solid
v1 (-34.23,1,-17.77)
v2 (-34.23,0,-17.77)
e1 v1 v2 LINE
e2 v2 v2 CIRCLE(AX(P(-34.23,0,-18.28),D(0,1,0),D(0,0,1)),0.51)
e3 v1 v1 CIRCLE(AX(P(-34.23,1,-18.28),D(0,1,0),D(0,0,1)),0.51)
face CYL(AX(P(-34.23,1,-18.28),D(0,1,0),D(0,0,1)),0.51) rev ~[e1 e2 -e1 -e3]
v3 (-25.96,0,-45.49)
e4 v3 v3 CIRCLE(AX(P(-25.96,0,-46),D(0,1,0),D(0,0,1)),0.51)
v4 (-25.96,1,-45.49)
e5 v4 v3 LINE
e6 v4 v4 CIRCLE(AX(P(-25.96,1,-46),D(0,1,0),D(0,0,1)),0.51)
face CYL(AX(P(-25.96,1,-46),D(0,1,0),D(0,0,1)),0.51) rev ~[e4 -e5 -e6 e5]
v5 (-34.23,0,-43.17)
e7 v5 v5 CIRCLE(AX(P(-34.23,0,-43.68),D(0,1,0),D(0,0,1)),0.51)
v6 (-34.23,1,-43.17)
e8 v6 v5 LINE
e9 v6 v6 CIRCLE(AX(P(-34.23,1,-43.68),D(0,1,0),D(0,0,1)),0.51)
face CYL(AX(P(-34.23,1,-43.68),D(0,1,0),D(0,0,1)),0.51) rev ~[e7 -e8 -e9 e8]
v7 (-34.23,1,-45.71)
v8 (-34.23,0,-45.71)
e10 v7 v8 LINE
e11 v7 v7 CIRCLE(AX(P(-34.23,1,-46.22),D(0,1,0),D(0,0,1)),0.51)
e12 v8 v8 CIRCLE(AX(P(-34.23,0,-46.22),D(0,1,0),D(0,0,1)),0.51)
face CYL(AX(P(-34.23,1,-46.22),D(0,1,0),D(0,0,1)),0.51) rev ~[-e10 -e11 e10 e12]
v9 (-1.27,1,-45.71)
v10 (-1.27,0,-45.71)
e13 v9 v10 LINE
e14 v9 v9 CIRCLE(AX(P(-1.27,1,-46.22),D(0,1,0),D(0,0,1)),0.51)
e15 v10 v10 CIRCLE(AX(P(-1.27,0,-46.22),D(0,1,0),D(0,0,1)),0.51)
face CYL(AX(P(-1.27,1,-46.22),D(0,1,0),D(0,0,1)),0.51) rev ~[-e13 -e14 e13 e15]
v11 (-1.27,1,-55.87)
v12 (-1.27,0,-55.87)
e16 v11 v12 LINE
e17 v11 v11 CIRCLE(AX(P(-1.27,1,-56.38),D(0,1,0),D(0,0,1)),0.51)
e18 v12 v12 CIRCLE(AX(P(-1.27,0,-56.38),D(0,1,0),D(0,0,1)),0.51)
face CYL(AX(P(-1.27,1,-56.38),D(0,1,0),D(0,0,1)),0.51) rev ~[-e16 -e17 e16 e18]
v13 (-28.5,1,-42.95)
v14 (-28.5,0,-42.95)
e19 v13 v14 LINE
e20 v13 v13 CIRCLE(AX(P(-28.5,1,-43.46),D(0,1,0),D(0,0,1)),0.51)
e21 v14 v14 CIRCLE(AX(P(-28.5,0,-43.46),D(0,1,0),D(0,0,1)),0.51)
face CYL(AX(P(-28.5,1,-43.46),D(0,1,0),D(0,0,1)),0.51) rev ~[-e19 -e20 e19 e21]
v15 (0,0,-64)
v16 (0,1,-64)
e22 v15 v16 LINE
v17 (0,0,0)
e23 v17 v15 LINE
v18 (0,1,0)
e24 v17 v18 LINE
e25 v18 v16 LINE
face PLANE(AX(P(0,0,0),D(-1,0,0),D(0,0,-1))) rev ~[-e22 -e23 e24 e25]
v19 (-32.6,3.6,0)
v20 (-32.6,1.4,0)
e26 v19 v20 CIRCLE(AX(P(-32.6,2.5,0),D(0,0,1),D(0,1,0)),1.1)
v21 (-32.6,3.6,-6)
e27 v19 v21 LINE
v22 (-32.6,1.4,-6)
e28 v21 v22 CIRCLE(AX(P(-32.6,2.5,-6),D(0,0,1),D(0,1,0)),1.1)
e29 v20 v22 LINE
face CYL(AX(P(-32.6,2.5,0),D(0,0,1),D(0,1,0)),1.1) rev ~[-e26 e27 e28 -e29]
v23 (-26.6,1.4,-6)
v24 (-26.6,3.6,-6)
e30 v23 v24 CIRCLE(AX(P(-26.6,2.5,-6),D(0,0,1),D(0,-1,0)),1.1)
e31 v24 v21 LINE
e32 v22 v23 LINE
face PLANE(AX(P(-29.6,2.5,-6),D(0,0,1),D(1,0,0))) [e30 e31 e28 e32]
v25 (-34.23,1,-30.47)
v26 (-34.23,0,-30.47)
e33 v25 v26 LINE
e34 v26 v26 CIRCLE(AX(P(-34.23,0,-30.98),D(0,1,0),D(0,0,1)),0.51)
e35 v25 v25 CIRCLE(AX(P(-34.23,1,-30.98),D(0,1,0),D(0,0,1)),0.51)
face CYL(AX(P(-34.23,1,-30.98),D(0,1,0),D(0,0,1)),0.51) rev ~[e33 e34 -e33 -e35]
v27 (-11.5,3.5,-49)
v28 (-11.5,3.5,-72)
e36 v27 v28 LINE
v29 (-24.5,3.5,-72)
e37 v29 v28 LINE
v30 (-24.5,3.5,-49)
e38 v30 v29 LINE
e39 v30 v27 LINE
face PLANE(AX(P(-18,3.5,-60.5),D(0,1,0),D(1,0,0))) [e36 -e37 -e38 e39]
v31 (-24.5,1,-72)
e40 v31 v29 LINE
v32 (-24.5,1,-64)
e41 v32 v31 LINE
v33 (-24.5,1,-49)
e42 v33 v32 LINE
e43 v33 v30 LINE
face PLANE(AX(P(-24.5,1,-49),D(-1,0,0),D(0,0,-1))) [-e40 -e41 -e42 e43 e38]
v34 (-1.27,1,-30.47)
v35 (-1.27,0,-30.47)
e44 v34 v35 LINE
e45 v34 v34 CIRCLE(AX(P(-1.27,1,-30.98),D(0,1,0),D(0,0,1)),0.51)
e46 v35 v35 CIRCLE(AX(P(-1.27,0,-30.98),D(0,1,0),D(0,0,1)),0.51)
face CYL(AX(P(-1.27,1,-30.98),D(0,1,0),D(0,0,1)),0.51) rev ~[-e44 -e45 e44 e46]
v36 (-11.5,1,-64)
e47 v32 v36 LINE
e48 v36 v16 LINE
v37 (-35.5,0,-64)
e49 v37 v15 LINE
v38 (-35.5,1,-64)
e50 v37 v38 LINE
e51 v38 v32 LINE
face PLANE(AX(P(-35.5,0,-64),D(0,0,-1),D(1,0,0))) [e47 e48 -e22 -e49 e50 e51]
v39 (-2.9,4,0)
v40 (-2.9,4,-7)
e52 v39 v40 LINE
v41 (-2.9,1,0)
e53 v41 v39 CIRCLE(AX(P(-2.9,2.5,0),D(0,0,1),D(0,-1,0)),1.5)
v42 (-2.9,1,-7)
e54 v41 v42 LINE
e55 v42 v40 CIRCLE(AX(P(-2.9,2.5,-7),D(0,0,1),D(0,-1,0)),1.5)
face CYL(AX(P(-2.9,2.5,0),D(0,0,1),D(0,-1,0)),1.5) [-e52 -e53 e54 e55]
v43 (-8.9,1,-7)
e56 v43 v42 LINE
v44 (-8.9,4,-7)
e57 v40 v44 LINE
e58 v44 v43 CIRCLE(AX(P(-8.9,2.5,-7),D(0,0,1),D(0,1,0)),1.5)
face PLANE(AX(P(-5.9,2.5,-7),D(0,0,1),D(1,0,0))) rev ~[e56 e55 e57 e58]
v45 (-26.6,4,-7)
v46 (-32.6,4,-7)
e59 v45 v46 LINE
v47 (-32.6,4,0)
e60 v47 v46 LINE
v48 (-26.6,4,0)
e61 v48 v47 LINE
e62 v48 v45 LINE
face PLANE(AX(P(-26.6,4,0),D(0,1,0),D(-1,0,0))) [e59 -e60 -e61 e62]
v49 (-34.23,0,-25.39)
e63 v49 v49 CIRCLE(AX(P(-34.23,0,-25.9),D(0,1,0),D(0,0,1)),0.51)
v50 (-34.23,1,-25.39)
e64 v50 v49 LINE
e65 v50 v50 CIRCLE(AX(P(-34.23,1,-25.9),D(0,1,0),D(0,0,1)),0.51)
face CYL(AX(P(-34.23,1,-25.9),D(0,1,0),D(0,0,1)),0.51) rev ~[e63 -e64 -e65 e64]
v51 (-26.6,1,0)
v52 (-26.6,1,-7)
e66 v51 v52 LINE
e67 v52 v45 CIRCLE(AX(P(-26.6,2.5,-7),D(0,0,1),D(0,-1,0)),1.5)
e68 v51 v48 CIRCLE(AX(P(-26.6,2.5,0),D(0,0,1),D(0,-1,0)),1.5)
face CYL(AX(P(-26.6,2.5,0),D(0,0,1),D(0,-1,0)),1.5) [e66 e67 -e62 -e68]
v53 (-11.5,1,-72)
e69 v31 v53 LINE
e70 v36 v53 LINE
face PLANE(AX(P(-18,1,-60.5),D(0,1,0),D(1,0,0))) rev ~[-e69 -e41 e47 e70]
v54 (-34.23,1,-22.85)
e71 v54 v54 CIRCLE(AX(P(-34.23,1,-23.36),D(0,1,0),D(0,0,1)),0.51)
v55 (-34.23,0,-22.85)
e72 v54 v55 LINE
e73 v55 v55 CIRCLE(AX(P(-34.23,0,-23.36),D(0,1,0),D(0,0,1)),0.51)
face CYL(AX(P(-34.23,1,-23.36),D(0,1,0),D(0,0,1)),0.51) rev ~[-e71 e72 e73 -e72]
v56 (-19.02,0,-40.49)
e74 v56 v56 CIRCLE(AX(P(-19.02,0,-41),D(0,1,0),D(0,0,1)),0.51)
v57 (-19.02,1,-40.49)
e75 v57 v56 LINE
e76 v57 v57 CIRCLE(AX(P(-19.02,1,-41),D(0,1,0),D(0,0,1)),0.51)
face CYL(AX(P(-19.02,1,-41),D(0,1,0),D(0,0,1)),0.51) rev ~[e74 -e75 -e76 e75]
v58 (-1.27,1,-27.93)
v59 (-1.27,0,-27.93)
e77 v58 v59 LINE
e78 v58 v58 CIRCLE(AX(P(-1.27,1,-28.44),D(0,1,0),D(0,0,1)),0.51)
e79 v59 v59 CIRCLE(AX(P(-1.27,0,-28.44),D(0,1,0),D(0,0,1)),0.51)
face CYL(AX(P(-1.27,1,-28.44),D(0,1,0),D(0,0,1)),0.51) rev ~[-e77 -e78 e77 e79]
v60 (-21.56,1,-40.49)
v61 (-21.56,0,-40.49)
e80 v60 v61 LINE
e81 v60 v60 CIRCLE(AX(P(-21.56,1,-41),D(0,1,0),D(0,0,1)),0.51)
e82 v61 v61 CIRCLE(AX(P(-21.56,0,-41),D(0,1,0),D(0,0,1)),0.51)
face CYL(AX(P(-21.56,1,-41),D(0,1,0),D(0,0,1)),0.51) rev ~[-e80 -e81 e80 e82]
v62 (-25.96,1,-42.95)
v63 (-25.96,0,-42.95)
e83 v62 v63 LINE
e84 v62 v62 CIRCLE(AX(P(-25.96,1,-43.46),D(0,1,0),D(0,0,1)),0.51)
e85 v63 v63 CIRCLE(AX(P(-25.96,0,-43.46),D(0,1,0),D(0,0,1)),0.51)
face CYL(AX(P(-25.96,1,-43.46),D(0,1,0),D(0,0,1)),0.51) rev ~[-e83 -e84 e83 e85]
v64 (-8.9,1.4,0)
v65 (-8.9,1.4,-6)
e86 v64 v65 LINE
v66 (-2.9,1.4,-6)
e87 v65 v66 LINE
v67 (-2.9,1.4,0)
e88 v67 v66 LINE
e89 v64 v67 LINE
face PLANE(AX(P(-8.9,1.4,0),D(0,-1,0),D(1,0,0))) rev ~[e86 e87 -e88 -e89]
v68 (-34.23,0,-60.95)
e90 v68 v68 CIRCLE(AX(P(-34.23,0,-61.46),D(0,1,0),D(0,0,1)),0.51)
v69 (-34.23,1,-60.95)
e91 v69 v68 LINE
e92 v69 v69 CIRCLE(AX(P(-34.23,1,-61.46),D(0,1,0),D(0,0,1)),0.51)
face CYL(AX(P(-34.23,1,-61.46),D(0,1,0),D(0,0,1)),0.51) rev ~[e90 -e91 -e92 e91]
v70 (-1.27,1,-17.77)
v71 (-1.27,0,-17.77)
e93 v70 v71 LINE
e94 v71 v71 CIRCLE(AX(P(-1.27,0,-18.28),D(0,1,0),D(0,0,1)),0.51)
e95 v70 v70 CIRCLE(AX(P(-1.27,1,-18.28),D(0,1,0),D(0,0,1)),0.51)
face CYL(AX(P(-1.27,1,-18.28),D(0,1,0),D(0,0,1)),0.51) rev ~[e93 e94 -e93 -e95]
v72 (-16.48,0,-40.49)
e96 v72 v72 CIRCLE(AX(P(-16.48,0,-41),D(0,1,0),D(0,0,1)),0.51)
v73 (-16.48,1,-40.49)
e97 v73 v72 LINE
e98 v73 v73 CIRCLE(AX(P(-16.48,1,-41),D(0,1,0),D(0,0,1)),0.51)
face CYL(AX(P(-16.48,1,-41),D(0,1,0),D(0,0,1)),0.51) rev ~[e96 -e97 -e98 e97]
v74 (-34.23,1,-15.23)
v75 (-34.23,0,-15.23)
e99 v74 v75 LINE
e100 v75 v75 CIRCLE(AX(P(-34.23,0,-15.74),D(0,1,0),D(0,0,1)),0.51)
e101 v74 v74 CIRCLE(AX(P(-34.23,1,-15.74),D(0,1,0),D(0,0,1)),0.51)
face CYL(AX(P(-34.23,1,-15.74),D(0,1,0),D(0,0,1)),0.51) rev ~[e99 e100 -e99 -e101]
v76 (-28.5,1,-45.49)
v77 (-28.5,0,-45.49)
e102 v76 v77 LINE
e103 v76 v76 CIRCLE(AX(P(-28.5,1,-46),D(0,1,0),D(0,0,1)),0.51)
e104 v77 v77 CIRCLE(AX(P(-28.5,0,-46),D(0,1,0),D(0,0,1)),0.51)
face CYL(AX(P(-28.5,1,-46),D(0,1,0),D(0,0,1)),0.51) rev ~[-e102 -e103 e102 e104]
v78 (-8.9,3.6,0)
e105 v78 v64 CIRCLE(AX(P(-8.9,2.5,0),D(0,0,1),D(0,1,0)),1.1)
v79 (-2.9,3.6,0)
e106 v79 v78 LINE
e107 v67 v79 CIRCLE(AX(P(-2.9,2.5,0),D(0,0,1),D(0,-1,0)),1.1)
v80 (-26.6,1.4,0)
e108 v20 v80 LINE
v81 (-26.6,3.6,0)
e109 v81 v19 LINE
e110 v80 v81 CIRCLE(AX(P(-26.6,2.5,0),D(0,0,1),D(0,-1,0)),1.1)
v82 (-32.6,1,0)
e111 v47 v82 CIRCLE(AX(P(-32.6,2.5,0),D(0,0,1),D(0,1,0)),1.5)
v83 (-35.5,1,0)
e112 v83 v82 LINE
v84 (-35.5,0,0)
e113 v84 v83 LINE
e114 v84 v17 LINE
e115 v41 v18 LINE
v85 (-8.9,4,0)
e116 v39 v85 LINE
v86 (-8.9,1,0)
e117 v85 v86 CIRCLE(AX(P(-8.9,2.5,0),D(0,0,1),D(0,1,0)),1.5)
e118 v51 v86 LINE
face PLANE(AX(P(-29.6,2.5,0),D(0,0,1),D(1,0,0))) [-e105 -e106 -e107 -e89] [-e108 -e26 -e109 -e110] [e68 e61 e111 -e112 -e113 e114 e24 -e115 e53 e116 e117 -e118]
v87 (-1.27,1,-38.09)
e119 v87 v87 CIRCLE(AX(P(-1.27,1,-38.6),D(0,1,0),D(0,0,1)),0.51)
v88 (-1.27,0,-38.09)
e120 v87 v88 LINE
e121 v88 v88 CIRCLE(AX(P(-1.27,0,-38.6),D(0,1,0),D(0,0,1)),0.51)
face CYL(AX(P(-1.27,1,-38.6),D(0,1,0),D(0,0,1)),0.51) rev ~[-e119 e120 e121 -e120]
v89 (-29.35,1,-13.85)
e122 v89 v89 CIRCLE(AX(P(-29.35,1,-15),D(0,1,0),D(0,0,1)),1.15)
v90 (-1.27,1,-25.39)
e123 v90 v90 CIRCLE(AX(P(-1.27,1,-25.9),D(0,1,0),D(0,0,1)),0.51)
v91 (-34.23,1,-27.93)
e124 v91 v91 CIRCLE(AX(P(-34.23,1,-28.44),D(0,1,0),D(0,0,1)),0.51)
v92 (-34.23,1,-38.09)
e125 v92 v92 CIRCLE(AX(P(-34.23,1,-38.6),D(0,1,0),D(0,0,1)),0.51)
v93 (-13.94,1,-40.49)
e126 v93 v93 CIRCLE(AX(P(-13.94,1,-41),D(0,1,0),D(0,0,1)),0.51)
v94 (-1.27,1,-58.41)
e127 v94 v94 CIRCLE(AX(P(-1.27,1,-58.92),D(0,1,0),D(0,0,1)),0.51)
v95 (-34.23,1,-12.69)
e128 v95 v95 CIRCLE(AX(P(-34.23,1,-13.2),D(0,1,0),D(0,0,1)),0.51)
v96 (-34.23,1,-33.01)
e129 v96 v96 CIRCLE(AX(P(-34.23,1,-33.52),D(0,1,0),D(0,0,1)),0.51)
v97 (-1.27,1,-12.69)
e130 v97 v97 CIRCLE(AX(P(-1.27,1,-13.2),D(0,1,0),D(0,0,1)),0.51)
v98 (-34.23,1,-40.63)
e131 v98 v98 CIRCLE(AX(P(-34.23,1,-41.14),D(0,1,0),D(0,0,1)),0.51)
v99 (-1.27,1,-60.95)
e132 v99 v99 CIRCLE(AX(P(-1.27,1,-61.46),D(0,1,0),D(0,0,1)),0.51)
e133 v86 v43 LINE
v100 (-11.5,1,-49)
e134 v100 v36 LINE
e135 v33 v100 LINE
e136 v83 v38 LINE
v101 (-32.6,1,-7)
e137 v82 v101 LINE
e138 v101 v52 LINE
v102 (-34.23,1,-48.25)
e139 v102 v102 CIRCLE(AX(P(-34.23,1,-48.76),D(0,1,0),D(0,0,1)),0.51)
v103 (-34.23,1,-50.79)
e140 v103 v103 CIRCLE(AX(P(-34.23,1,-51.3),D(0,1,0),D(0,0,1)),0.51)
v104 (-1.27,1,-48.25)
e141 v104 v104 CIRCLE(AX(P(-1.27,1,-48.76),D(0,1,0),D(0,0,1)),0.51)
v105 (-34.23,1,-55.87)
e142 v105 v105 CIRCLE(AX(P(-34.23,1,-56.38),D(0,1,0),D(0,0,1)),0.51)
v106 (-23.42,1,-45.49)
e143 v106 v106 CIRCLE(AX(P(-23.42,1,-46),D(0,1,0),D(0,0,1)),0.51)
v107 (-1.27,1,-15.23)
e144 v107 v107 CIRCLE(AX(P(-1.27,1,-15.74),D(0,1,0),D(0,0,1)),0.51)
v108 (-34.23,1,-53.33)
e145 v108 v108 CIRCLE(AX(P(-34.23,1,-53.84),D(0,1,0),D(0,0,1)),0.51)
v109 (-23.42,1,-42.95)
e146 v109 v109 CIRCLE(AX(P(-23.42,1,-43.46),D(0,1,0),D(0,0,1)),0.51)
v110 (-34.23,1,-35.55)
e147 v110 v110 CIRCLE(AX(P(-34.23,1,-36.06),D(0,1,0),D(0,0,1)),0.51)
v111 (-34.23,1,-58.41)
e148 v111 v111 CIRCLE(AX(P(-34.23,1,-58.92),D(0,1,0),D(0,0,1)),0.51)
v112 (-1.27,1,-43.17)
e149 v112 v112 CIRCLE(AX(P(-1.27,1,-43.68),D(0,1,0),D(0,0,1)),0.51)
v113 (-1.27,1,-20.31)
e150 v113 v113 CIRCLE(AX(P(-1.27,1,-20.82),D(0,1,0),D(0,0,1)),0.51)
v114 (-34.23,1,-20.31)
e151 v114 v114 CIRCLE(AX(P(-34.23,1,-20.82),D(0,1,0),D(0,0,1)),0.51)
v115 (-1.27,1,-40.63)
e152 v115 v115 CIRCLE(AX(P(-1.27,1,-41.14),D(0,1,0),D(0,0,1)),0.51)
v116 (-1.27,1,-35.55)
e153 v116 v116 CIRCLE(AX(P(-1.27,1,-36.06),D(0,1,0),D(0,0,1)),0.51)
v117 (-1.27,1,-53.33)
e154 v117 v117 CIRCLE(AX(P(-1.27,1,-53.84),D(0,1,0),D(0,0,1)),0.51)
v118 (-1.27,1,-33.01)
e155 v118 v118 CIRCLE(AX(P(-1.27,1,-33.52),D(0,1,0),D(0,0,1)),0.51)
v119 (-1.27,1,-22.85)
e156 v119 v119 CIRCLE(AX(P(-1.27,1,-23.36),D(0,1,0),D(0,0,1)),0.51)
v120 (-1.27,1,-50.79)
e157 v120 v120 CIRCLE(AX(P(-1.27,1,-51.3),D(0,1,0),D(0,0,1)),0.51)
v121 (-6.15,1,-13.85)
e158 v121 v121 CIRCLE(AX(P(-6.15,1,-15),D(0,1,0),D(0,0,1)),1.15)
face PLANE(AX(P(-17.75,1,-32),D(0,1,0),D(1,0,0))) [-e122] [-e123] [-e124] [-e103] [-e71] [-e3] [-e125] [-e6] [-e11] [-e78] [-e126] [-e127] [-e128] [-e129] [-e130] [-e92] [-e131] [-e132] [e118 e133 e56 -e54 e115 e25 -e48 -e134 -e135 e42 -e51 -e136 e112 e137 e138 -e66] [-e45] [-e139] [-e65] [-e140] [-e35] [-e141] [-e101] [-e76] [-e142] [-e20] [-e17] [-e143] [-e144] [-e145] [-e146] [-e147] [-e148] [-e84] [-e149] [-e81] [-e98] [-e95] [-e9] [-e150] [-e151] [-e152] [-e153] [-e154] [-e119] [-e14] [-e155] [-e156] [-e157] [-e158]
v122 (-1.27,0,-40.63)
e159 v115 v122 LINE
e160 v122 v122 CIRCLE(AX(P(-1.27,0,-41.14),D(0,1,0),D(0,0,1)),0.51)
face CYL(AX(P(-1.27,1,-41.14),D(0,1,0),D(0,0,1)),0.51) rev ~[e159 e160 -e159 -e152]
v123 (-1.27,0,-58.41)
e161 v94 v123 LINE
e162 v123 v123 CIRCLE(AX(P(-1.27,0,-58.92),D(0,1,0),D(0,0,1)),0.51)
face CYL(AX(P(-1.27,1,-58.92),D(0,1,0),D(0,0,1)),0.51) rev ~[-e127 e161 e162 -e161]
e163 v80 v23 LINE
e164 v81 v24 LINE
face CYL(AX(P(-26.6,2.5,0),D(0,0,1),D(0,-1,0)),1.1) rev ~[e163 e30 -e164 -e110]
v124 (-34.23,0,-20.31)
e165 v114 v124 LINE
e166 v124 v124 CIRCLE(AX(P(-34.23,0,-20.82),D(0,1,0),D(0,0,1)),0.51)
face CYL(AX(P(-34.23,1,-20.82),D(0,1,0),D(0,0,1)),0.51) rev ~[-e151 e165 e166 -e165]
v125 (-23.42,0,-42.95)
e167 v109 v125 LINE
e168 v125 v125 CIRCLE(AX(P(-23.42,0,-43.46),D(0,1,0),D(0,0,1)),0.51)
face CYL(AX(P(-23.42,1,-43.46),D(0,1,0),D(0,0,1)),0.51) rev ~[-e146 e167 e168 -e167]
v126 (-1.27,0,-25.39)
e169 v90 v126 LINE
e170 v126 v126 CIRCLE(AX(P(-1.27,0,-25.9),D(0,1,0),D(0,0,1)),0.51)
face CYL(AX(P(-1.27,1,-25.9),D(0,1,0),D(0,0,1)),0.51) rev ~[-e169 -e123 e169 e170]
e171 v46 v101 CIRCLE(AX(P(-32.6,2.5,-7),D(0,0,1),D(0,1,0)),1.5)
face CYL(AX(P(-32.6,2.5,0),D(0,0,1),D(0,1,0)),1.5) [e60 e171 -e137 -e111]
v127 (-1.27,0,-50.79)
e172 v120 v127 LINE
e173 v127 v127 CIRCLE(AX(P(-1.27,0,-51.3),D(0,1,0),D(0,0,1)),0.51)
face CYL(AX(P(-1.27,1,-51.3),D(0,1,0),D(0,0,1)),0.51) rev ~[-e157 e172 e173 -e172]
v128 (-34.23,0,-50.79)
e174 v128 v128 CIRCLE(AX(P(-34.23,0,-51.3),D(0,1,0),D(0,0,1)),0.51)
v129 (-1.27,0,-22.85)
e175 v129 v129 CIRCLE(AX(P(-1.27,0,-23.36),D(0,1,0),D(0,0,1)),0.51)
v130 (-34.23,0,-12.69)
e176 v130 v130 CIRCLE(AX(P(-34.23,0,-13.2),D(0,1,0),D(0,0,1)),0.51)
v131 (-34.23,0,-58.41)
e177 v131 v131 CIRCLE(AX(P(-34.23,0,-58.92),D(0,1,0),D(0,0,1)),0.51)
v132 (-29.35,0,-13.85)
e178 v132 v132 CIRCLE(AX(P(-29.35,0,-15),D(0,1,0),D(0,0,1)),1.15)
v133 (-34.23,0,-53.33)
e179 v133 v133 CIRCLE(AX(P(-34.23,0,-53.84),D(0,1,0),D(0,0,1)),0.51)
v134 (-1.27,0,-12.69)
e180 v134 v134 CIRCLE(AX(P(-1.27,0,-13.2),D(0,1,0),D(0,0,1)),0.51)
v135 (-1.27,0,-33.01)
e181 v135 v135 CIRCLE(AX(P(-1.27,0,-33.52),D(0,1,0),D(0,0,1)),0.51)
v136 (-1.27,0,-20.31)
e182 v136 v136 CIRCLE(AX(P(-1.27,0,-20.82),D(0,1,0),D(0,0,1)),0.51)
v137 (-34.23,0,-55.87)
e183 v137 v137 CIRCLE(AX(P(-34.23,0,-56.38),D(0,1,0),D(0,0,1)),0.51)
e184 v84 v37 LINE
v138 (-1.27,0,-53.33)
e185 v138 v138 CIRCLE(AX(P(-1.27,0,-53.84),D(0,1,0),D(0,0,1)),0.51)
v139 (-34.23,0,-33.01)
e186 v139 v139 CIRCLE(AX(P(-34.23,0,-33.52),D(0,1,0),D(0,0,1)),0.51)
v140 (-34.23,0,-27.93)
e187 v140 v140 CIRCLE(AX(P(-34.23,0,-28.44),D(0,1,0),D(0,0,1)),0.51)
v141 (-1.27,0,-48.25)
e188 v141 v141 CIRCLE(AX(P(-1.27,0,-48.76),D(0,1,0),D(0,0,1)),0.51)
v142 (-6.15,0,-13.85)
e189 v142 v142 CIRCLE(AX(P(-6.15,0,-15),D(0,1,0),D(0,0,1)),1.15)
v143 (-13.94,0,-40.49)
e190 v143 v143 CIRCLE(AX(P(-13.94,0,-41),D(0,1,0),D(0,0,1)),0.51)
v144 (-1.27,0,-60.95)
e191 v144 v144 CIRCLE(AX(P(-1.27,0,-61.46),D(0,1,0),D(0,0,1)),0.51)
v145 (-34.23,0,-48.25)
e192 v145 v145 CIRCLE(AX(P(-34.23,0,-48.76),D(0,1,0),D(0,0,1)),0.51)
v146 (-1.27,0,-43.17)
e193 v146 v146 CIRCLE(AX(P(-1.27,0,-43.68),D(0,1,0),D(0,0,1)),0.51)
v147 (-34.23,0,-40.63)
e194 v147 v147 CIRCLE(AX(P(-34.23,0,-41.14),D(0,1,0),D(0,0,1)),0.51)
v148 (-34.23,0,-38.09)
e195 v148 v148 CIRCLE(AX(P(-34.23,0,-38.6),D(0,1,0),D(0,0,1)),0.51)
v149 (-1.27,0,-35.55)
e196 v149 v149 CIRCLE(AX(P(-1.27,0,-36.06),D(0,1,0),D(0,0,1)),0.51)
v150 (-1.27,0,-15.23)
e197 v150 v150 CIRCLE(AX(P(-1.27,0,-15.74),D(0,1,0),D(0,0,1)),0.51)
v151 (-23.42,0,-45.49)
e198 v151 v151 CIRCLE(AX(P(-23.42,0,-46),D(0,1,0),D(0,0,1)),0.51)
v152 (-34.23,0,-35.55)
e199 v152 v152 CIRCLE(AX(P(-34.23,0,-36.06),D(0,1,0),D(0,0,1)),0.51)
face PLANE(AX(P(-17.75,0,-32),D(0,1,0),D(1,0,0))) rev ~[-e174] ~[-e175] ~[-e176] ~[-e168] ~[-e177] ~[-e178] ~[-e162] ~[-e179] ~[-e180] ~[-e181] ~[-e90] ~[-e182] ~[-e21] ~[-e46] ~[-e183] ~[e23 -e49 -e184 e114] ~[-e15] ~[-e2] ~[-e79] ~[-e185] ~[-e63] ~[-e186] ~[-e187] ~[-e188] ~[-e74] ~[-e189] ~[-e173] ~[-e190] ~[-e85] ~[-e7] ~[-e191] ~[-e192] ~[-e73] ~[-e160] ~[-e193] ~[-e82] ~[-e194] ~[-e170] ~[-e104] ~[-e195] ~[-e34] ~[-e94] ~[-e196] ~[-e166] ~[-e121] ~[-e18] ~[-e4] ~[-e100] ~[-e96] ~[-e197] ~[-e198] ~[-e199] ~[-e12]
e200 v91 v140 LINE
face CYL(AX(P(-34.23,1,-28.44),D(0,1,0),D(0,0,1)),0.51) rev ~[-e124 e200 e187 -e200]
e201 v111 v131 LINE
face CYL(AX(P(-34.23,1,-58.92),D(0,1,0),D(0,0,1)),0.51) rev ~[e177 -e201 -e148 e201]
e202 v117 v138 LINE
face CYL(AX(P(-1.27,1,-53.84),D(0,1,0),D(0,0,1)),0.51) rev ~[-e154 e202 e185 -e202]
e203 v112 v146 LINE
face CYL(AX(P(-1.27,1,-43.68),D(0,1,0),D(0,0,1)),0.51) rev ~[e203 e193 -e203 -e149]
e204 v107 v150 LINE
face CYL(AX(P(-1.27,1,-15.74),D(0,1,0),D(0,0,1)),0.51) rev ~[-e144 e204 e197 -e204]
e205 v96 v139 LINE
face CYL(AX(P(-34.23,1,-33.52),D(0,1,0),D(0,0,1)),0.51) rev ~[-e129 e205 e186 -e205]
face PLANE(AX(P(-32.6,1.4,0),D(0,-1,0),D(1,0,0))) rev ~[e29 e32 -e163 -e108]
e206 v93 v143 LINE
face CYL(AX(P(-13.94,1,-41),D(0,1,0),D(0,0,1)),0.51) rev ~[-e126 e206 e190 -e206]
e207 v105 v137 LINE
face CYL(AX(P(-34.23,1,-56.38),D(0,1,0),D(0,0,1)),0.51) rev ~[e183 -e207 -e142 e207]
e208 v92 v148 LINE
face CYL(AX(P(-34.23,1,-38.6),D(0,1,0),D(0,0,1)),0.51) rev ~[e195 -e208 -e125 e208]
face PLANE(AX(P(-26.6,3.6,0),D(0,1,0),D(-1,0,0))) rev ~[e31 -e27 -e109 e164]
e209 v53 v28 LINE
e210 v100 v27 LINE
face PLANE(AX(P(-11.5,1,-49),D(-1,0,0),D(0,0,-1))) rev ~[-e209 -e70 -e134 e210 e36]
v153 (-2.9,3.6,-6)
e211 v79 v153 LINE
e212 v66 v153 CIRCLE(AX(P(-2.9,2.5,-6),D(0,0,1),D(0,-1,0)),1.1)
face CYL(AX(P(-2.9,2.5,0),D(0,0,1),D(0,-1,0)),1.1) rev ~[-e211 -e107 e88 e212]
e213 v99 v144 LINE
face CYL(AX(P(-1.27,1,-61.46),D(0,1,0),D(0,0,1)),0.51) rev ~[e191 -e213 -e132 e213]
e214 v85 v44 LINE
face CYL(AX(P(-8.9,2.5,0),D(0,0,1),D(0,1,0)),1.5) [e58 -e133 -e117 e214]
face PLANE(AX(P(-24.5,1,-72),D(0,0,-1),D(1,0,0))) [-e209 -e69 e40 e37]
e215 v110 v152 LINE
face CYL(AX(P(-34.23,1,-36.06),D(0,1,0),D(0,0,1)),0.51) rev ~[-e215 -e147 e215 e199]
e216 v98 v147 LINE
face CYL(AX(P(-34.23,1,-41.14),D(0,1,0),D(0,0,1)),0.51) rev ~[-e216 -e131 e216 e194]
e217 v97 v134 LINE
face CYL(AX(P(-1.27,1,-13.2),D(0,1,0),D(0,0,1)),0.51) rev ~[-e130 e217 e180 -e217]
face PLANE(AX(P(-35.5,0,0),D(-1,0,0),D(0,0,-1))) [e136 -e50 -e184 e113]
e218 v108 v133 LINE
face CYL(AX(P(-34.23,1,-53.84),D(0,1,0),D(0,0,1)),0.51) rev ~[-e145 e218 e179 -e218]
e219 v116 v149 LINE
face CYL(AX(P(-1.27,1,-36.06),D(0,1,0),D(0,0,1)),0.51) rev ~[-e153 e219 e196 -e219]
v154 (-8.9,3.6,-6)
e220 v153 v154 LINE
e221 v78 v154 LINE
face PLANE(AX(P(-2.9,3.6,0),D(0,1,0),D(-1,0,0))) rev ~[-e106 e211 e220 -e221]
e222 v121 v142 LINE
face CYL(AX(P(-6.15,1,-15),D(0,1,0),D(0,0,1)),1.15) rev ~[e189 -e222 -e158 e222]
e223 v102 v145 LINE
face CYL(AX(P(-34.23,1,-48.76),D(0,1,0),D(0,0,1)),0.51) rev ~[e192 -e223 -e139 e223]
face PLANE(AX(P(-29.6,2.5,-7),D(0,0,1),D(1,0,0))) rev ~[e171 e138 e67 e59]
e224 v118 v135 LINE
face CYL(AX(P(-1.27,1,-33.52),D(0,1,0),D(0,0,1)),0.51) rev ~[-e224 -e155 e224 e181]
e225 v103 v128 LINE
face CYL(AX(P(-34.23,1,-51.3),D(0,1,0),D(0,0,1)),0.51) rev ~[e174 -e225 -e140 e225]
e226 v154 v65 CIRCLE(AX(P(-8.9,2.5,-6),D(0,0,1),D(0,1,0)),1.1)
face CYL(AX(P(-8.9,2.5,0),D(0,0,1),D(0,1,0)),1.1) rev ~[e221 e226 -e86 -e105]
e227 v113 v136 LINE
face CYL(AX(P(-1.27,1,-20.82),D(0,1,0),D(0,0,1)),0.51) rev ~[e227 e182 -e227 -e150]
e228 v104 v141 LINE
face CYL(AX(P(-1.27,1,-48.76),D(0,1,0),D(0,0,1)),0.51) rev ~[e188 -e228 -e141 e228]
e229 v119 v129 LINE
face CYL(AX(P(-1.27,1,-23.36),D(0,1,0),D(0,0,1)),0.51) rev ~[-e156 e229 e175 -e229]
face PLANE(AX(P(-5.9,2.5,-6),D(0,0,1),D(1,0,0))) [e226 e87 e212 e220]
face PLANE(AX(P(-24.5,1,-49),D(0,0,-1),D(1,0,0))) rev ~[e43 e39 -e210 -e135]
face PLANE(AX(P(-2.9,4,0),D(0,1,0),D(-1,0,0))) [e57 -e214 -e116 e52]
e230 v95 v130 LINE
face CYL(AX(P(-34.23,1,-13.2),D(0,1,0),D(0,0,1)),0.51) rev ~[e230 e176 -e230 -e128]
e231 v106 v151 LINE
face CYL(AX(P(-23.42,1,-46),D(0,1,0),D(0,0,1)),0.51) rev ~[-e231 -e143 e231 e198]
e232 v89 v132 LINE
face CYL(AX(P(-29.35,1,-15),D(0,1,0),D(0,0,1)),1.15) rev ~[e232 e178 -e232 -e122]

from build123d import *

# Parameters (mm, degrees)
SCHIZZO1_W                   = 35.5
SCHIZZO1_H                   = 64
ESTRUSIONE_ESTRUSIONE1_DEPTH = 1
SCHIZZO2_W                   = 13
SCHIZZO2_H                   = 23
ESTRUSIONE_ESTRUSIONE2_DEPTH = 2.5
SCHIZZO3_R                   = 0.51
TAGLIO_ESTRUSIONE1_DEPTH     = 2.5
ESTRUSIONE_ESTRUSIONE3_DEPTH = 7
TAGLIO_ESTRUSIONE2_DEPTH     = 6
SCHIZZO7_R                   = 1.15
TAGLIO_ESTRUSIONE3_DEPTH     = 6


with BuildPart() as part:
    # Schizzo1 → Estrusione-Estrusione1 (new body)
    with BuildSketch(Plane(origin=(0, 0, 0), x_dir=(1, 0, 0), z_dir=(0, 1, 0))):
        with Locations((-17.75, 32)):
            Rectangle(SCHIZZO1_W, SCHIZZO1_H)
    extrude(amount=ESTRUSIONE_ESTRUSIONE1_DEPTH)

    # Schizzo2 → Estrusione-Estrusione2 (add)
    with BuildSketch(Plane(origin=(0, 1, 0), x_dir=(1, 0, 0), z_dir=(0, 1, 0))):
        with Locations((-18, 60.5)):
            Rectangle(SCHIZZO2_W, SCHIZZO2_H)
    extrude(amount=ESTRUSIONE_ESTRUSIONE2_DEPTH)

    # Schizzo3 → Taglio-Estrusione1 (cut)
    with BuildSketch(Plane(origin=(0, 1, 0), x_dir=(1, 0, 0), z_dir=(0, 1, 0))):
        with Locations((-1.27, 61.46)):
            Circle(SCHIZZO3_R)
        with Locations((-1.27, 58.92)):
            Circle(SCHIZZO3_R)
        with Locations((-1.27, 56.38)):
            Circle(SCHIZZO3_R)
        with Locations((-1.27, 53.84)):
            Circle(SCHIZZO3_R)
        with Locations((-1.27, 51.3)):
            Circle(SCHIZZO3_R)
        with Locations((-1.27, 48.76)):
            Circle(SCHIZZO3_R)
        with Locations((-1.27, 46.22)):
            Circle(SCHIZZO3_R)
        with Locations((-1.27, 43.68)):
            Circle(SCHIZZO3_R)
        with Locations((-1.27, 41.14)):
            Circle(SCHIZZO3_R)
        with Locations((-1.27, 38.6)):
            Circle(SCHIZZO3_R)
        with Locations((-1.27, 36.06)):
            Circle(SCHIZZO3_R)
        with Locations((-1.27, 33.52)):
            Circle(SCHIZZO3_R)
        with Locations((-1.27, 30.98)):
            Circle(SCHIZZO3_R)
        with Locations((-1.27, 28.44)):
            Circle(SCHIZZO3_R)
        with Locations((-1.27, 25.9)):
            Circle(SCHIZZO3_R)
        with Locations((-1.27, 23.36)):
            Circle(SCHIZZO3_R)
        with Locations((-1.27, 20.82)):
            Circle(SCHIZZO3_R)
        with Locations((-1.27, 18.28)):
            Circle(SCHIZZO3_R)
        with Locations((-1.27, 15.74)):
            Circle(SCHIZZO3_R)
        with Locations((-1.27, 13.2)):
            Circle(SCHIZZO3_R)
        with Locations((-34.23, 61.46)):
            Circle(SCHIZZO3_R)
        with Locations((-34.23, 58.92)):
            Circle(SCHIZZO3_R)
        with Locations((-34.23, 56.38)):
            Circle(SCHIZZO3_R)
        with Locations((-34.23, 53.84)):
            Circle(SCHIZZO3_R)
        with Locations((-34.23, 51.3)):
            Circle(SCHIZZO3_R)
        with Locations((-34.23, 48.76)):
            Circle(SCHIZZO3_R)
        with Locations((-34.23, 46.22)):
            Circle(SCHIZZO3_R)
        with Locations((-34.23, 43.68)):
            Circle(SCHIZZO3_R)
        with Locations((-34.23, 41.14)):
            Circle(SCHIZZO3_R)
        with Locations((-34.23, 38.6)):
            Circle(SCHIZZO3_R)
        with Locations((-34.23, 36.06)):
            Circle(SCHIZZO3_R)
        with Locations((-34.23, 33.52)):
            Circle(SCHIZZO3_R)
        with Locations((-34.23, 30.98)):
            Circle(SCHIZZO3_R)
        with Locations((-34.23, 28.44)):
            Circle(SCHIZZO3_R)
        with Locations((-34.23, 25.9)):
            Circle(SCHIZZO3_R)
        with Locations((-34.23, 23.36)):
            Circle(SCHIZZO3_R)
        with Locations((-34.23, 20.82)):
            Circle(SCHIZZO3_R)
        with Locations((-34.23, 18.28)):
            Circle(SCHIZZO3_R)
        with Locations((-34.23, 15.74)):
            Circle(SCHIZZO3_R)
        with Locations((-34.23, 13.2)):
            Circle(SCHIZZO3_R)
        with Locations((-21.56, 41)):
            Circle(SCHIZZO3_R)
        with Locations((-19.02, 41)):
            Circle(SCHIZZO3_R)
        with Locations((-16.48, 41)):
            Circle(SCHIZZO3_R)
        with Locations((-13.94, 41)):
            Circle(SCHIZZO3_R)
        with Locations((-28.5, 46)):
            Circle(SCHIZZO3_R)
        with Locations((-25.96, 46)):
            Circle(SCHIZZO3_R)
        with Locations((-23.42, 46)):
            Circle(SCHIZZO3_R)
        with Locations((-28.5, 43.46)):
            Circle(SCHIZZO3_R)
        with Locations((-25.96, 43.46)):
            Circle(SCHIZZO3_R)
        with Locations((-23.42, 43.46)):
            Circle(SCHIZZO3_R)
    extrude(amount=-TAGLIO_ESTRUSIONE1_DEPTH, mode=Mode.SUBTRACT)

    # Schizzo6 → Estrusione-Estrusione3 (add)
    with BuildSketch(Plane.XY):
        with BuildLine():
            ThreePointArc((-8.9, 4), (-10.4, 2.5), (-8.9, 1))
            Line((-8.9, 1), (-2.9, 1))
            ThreePointArc((-2.9, 1), (-1.4, 2.5), (-2.9, 4))
            Line((-2.9, 4), (-8.9, 4))
        make_face()
        with BuildLine():
            Line((-26.6, 4), (-32.6, 4))
            ThreePointArc((-32.6, 4), (-34.1, 2.5), (-32.6, 1))
            Line((-32.6, 1), (-26.6, 1))
            ThreePointArc((-26.6, 1), (-25.1, 2.5), (-26.6, 4))
        make_face()
    extrude(amount=-ESTRUSIONE_ESTRUSIONE3_DEPTH)

    # Schizzo6<3> → Taglio-Estrusione2 (cut)
    with BuildSketch(Plane.XY):
        with BuildLine():
            Line((-26.6, 3.6), (-32.6, 3.6))
            ThreePointArc((-32.6, 3.6), (-33.7, 2.5), (-32.6, 1.4))
            Line((-32.6, 1.4), (-26.6, 1.4))
            ThreePointArc((-26.6, 1.4), (-25.5, 2.5), (-26.6, 3.6))
        make_face()
        with BuildLine():
            Line((-2.9, 3.6), (-8.9, 3.6))
            ThreePointArc((-8.9, 3.6), (-10, 2.5), (-8.9, 1.4))
            Line((-8.9, 1.4), (-2.9, 1.4))
            ThreePointArc((-2.9, 1.4), (-1.8, 2.5), (-2.9, 3.6))
        make_face()
    extrude(amount=-TAGLIO_ESTRUSIONE2_DEPTH, mode=Mode.SUBTRACT)

    # Schizzo7 → Taglio-Estrusione3 (cut)
    with BuildSketch(Plane(origin=(0, 1, 0), x_dir=(1, 0, 0), z_dir=(0, 1, 0))):
        with Locations((-29.35, 15)):
            Circle(SCHIZZO7_R)
        with Locations((-6.15, 15)):
            Circle(SCHIZZO7_R)
    extrude(amount=-TAGLIO_ESTRUSIONE3_DEPTH, mode=Mode.SUBTRACT)


solid = part.part
